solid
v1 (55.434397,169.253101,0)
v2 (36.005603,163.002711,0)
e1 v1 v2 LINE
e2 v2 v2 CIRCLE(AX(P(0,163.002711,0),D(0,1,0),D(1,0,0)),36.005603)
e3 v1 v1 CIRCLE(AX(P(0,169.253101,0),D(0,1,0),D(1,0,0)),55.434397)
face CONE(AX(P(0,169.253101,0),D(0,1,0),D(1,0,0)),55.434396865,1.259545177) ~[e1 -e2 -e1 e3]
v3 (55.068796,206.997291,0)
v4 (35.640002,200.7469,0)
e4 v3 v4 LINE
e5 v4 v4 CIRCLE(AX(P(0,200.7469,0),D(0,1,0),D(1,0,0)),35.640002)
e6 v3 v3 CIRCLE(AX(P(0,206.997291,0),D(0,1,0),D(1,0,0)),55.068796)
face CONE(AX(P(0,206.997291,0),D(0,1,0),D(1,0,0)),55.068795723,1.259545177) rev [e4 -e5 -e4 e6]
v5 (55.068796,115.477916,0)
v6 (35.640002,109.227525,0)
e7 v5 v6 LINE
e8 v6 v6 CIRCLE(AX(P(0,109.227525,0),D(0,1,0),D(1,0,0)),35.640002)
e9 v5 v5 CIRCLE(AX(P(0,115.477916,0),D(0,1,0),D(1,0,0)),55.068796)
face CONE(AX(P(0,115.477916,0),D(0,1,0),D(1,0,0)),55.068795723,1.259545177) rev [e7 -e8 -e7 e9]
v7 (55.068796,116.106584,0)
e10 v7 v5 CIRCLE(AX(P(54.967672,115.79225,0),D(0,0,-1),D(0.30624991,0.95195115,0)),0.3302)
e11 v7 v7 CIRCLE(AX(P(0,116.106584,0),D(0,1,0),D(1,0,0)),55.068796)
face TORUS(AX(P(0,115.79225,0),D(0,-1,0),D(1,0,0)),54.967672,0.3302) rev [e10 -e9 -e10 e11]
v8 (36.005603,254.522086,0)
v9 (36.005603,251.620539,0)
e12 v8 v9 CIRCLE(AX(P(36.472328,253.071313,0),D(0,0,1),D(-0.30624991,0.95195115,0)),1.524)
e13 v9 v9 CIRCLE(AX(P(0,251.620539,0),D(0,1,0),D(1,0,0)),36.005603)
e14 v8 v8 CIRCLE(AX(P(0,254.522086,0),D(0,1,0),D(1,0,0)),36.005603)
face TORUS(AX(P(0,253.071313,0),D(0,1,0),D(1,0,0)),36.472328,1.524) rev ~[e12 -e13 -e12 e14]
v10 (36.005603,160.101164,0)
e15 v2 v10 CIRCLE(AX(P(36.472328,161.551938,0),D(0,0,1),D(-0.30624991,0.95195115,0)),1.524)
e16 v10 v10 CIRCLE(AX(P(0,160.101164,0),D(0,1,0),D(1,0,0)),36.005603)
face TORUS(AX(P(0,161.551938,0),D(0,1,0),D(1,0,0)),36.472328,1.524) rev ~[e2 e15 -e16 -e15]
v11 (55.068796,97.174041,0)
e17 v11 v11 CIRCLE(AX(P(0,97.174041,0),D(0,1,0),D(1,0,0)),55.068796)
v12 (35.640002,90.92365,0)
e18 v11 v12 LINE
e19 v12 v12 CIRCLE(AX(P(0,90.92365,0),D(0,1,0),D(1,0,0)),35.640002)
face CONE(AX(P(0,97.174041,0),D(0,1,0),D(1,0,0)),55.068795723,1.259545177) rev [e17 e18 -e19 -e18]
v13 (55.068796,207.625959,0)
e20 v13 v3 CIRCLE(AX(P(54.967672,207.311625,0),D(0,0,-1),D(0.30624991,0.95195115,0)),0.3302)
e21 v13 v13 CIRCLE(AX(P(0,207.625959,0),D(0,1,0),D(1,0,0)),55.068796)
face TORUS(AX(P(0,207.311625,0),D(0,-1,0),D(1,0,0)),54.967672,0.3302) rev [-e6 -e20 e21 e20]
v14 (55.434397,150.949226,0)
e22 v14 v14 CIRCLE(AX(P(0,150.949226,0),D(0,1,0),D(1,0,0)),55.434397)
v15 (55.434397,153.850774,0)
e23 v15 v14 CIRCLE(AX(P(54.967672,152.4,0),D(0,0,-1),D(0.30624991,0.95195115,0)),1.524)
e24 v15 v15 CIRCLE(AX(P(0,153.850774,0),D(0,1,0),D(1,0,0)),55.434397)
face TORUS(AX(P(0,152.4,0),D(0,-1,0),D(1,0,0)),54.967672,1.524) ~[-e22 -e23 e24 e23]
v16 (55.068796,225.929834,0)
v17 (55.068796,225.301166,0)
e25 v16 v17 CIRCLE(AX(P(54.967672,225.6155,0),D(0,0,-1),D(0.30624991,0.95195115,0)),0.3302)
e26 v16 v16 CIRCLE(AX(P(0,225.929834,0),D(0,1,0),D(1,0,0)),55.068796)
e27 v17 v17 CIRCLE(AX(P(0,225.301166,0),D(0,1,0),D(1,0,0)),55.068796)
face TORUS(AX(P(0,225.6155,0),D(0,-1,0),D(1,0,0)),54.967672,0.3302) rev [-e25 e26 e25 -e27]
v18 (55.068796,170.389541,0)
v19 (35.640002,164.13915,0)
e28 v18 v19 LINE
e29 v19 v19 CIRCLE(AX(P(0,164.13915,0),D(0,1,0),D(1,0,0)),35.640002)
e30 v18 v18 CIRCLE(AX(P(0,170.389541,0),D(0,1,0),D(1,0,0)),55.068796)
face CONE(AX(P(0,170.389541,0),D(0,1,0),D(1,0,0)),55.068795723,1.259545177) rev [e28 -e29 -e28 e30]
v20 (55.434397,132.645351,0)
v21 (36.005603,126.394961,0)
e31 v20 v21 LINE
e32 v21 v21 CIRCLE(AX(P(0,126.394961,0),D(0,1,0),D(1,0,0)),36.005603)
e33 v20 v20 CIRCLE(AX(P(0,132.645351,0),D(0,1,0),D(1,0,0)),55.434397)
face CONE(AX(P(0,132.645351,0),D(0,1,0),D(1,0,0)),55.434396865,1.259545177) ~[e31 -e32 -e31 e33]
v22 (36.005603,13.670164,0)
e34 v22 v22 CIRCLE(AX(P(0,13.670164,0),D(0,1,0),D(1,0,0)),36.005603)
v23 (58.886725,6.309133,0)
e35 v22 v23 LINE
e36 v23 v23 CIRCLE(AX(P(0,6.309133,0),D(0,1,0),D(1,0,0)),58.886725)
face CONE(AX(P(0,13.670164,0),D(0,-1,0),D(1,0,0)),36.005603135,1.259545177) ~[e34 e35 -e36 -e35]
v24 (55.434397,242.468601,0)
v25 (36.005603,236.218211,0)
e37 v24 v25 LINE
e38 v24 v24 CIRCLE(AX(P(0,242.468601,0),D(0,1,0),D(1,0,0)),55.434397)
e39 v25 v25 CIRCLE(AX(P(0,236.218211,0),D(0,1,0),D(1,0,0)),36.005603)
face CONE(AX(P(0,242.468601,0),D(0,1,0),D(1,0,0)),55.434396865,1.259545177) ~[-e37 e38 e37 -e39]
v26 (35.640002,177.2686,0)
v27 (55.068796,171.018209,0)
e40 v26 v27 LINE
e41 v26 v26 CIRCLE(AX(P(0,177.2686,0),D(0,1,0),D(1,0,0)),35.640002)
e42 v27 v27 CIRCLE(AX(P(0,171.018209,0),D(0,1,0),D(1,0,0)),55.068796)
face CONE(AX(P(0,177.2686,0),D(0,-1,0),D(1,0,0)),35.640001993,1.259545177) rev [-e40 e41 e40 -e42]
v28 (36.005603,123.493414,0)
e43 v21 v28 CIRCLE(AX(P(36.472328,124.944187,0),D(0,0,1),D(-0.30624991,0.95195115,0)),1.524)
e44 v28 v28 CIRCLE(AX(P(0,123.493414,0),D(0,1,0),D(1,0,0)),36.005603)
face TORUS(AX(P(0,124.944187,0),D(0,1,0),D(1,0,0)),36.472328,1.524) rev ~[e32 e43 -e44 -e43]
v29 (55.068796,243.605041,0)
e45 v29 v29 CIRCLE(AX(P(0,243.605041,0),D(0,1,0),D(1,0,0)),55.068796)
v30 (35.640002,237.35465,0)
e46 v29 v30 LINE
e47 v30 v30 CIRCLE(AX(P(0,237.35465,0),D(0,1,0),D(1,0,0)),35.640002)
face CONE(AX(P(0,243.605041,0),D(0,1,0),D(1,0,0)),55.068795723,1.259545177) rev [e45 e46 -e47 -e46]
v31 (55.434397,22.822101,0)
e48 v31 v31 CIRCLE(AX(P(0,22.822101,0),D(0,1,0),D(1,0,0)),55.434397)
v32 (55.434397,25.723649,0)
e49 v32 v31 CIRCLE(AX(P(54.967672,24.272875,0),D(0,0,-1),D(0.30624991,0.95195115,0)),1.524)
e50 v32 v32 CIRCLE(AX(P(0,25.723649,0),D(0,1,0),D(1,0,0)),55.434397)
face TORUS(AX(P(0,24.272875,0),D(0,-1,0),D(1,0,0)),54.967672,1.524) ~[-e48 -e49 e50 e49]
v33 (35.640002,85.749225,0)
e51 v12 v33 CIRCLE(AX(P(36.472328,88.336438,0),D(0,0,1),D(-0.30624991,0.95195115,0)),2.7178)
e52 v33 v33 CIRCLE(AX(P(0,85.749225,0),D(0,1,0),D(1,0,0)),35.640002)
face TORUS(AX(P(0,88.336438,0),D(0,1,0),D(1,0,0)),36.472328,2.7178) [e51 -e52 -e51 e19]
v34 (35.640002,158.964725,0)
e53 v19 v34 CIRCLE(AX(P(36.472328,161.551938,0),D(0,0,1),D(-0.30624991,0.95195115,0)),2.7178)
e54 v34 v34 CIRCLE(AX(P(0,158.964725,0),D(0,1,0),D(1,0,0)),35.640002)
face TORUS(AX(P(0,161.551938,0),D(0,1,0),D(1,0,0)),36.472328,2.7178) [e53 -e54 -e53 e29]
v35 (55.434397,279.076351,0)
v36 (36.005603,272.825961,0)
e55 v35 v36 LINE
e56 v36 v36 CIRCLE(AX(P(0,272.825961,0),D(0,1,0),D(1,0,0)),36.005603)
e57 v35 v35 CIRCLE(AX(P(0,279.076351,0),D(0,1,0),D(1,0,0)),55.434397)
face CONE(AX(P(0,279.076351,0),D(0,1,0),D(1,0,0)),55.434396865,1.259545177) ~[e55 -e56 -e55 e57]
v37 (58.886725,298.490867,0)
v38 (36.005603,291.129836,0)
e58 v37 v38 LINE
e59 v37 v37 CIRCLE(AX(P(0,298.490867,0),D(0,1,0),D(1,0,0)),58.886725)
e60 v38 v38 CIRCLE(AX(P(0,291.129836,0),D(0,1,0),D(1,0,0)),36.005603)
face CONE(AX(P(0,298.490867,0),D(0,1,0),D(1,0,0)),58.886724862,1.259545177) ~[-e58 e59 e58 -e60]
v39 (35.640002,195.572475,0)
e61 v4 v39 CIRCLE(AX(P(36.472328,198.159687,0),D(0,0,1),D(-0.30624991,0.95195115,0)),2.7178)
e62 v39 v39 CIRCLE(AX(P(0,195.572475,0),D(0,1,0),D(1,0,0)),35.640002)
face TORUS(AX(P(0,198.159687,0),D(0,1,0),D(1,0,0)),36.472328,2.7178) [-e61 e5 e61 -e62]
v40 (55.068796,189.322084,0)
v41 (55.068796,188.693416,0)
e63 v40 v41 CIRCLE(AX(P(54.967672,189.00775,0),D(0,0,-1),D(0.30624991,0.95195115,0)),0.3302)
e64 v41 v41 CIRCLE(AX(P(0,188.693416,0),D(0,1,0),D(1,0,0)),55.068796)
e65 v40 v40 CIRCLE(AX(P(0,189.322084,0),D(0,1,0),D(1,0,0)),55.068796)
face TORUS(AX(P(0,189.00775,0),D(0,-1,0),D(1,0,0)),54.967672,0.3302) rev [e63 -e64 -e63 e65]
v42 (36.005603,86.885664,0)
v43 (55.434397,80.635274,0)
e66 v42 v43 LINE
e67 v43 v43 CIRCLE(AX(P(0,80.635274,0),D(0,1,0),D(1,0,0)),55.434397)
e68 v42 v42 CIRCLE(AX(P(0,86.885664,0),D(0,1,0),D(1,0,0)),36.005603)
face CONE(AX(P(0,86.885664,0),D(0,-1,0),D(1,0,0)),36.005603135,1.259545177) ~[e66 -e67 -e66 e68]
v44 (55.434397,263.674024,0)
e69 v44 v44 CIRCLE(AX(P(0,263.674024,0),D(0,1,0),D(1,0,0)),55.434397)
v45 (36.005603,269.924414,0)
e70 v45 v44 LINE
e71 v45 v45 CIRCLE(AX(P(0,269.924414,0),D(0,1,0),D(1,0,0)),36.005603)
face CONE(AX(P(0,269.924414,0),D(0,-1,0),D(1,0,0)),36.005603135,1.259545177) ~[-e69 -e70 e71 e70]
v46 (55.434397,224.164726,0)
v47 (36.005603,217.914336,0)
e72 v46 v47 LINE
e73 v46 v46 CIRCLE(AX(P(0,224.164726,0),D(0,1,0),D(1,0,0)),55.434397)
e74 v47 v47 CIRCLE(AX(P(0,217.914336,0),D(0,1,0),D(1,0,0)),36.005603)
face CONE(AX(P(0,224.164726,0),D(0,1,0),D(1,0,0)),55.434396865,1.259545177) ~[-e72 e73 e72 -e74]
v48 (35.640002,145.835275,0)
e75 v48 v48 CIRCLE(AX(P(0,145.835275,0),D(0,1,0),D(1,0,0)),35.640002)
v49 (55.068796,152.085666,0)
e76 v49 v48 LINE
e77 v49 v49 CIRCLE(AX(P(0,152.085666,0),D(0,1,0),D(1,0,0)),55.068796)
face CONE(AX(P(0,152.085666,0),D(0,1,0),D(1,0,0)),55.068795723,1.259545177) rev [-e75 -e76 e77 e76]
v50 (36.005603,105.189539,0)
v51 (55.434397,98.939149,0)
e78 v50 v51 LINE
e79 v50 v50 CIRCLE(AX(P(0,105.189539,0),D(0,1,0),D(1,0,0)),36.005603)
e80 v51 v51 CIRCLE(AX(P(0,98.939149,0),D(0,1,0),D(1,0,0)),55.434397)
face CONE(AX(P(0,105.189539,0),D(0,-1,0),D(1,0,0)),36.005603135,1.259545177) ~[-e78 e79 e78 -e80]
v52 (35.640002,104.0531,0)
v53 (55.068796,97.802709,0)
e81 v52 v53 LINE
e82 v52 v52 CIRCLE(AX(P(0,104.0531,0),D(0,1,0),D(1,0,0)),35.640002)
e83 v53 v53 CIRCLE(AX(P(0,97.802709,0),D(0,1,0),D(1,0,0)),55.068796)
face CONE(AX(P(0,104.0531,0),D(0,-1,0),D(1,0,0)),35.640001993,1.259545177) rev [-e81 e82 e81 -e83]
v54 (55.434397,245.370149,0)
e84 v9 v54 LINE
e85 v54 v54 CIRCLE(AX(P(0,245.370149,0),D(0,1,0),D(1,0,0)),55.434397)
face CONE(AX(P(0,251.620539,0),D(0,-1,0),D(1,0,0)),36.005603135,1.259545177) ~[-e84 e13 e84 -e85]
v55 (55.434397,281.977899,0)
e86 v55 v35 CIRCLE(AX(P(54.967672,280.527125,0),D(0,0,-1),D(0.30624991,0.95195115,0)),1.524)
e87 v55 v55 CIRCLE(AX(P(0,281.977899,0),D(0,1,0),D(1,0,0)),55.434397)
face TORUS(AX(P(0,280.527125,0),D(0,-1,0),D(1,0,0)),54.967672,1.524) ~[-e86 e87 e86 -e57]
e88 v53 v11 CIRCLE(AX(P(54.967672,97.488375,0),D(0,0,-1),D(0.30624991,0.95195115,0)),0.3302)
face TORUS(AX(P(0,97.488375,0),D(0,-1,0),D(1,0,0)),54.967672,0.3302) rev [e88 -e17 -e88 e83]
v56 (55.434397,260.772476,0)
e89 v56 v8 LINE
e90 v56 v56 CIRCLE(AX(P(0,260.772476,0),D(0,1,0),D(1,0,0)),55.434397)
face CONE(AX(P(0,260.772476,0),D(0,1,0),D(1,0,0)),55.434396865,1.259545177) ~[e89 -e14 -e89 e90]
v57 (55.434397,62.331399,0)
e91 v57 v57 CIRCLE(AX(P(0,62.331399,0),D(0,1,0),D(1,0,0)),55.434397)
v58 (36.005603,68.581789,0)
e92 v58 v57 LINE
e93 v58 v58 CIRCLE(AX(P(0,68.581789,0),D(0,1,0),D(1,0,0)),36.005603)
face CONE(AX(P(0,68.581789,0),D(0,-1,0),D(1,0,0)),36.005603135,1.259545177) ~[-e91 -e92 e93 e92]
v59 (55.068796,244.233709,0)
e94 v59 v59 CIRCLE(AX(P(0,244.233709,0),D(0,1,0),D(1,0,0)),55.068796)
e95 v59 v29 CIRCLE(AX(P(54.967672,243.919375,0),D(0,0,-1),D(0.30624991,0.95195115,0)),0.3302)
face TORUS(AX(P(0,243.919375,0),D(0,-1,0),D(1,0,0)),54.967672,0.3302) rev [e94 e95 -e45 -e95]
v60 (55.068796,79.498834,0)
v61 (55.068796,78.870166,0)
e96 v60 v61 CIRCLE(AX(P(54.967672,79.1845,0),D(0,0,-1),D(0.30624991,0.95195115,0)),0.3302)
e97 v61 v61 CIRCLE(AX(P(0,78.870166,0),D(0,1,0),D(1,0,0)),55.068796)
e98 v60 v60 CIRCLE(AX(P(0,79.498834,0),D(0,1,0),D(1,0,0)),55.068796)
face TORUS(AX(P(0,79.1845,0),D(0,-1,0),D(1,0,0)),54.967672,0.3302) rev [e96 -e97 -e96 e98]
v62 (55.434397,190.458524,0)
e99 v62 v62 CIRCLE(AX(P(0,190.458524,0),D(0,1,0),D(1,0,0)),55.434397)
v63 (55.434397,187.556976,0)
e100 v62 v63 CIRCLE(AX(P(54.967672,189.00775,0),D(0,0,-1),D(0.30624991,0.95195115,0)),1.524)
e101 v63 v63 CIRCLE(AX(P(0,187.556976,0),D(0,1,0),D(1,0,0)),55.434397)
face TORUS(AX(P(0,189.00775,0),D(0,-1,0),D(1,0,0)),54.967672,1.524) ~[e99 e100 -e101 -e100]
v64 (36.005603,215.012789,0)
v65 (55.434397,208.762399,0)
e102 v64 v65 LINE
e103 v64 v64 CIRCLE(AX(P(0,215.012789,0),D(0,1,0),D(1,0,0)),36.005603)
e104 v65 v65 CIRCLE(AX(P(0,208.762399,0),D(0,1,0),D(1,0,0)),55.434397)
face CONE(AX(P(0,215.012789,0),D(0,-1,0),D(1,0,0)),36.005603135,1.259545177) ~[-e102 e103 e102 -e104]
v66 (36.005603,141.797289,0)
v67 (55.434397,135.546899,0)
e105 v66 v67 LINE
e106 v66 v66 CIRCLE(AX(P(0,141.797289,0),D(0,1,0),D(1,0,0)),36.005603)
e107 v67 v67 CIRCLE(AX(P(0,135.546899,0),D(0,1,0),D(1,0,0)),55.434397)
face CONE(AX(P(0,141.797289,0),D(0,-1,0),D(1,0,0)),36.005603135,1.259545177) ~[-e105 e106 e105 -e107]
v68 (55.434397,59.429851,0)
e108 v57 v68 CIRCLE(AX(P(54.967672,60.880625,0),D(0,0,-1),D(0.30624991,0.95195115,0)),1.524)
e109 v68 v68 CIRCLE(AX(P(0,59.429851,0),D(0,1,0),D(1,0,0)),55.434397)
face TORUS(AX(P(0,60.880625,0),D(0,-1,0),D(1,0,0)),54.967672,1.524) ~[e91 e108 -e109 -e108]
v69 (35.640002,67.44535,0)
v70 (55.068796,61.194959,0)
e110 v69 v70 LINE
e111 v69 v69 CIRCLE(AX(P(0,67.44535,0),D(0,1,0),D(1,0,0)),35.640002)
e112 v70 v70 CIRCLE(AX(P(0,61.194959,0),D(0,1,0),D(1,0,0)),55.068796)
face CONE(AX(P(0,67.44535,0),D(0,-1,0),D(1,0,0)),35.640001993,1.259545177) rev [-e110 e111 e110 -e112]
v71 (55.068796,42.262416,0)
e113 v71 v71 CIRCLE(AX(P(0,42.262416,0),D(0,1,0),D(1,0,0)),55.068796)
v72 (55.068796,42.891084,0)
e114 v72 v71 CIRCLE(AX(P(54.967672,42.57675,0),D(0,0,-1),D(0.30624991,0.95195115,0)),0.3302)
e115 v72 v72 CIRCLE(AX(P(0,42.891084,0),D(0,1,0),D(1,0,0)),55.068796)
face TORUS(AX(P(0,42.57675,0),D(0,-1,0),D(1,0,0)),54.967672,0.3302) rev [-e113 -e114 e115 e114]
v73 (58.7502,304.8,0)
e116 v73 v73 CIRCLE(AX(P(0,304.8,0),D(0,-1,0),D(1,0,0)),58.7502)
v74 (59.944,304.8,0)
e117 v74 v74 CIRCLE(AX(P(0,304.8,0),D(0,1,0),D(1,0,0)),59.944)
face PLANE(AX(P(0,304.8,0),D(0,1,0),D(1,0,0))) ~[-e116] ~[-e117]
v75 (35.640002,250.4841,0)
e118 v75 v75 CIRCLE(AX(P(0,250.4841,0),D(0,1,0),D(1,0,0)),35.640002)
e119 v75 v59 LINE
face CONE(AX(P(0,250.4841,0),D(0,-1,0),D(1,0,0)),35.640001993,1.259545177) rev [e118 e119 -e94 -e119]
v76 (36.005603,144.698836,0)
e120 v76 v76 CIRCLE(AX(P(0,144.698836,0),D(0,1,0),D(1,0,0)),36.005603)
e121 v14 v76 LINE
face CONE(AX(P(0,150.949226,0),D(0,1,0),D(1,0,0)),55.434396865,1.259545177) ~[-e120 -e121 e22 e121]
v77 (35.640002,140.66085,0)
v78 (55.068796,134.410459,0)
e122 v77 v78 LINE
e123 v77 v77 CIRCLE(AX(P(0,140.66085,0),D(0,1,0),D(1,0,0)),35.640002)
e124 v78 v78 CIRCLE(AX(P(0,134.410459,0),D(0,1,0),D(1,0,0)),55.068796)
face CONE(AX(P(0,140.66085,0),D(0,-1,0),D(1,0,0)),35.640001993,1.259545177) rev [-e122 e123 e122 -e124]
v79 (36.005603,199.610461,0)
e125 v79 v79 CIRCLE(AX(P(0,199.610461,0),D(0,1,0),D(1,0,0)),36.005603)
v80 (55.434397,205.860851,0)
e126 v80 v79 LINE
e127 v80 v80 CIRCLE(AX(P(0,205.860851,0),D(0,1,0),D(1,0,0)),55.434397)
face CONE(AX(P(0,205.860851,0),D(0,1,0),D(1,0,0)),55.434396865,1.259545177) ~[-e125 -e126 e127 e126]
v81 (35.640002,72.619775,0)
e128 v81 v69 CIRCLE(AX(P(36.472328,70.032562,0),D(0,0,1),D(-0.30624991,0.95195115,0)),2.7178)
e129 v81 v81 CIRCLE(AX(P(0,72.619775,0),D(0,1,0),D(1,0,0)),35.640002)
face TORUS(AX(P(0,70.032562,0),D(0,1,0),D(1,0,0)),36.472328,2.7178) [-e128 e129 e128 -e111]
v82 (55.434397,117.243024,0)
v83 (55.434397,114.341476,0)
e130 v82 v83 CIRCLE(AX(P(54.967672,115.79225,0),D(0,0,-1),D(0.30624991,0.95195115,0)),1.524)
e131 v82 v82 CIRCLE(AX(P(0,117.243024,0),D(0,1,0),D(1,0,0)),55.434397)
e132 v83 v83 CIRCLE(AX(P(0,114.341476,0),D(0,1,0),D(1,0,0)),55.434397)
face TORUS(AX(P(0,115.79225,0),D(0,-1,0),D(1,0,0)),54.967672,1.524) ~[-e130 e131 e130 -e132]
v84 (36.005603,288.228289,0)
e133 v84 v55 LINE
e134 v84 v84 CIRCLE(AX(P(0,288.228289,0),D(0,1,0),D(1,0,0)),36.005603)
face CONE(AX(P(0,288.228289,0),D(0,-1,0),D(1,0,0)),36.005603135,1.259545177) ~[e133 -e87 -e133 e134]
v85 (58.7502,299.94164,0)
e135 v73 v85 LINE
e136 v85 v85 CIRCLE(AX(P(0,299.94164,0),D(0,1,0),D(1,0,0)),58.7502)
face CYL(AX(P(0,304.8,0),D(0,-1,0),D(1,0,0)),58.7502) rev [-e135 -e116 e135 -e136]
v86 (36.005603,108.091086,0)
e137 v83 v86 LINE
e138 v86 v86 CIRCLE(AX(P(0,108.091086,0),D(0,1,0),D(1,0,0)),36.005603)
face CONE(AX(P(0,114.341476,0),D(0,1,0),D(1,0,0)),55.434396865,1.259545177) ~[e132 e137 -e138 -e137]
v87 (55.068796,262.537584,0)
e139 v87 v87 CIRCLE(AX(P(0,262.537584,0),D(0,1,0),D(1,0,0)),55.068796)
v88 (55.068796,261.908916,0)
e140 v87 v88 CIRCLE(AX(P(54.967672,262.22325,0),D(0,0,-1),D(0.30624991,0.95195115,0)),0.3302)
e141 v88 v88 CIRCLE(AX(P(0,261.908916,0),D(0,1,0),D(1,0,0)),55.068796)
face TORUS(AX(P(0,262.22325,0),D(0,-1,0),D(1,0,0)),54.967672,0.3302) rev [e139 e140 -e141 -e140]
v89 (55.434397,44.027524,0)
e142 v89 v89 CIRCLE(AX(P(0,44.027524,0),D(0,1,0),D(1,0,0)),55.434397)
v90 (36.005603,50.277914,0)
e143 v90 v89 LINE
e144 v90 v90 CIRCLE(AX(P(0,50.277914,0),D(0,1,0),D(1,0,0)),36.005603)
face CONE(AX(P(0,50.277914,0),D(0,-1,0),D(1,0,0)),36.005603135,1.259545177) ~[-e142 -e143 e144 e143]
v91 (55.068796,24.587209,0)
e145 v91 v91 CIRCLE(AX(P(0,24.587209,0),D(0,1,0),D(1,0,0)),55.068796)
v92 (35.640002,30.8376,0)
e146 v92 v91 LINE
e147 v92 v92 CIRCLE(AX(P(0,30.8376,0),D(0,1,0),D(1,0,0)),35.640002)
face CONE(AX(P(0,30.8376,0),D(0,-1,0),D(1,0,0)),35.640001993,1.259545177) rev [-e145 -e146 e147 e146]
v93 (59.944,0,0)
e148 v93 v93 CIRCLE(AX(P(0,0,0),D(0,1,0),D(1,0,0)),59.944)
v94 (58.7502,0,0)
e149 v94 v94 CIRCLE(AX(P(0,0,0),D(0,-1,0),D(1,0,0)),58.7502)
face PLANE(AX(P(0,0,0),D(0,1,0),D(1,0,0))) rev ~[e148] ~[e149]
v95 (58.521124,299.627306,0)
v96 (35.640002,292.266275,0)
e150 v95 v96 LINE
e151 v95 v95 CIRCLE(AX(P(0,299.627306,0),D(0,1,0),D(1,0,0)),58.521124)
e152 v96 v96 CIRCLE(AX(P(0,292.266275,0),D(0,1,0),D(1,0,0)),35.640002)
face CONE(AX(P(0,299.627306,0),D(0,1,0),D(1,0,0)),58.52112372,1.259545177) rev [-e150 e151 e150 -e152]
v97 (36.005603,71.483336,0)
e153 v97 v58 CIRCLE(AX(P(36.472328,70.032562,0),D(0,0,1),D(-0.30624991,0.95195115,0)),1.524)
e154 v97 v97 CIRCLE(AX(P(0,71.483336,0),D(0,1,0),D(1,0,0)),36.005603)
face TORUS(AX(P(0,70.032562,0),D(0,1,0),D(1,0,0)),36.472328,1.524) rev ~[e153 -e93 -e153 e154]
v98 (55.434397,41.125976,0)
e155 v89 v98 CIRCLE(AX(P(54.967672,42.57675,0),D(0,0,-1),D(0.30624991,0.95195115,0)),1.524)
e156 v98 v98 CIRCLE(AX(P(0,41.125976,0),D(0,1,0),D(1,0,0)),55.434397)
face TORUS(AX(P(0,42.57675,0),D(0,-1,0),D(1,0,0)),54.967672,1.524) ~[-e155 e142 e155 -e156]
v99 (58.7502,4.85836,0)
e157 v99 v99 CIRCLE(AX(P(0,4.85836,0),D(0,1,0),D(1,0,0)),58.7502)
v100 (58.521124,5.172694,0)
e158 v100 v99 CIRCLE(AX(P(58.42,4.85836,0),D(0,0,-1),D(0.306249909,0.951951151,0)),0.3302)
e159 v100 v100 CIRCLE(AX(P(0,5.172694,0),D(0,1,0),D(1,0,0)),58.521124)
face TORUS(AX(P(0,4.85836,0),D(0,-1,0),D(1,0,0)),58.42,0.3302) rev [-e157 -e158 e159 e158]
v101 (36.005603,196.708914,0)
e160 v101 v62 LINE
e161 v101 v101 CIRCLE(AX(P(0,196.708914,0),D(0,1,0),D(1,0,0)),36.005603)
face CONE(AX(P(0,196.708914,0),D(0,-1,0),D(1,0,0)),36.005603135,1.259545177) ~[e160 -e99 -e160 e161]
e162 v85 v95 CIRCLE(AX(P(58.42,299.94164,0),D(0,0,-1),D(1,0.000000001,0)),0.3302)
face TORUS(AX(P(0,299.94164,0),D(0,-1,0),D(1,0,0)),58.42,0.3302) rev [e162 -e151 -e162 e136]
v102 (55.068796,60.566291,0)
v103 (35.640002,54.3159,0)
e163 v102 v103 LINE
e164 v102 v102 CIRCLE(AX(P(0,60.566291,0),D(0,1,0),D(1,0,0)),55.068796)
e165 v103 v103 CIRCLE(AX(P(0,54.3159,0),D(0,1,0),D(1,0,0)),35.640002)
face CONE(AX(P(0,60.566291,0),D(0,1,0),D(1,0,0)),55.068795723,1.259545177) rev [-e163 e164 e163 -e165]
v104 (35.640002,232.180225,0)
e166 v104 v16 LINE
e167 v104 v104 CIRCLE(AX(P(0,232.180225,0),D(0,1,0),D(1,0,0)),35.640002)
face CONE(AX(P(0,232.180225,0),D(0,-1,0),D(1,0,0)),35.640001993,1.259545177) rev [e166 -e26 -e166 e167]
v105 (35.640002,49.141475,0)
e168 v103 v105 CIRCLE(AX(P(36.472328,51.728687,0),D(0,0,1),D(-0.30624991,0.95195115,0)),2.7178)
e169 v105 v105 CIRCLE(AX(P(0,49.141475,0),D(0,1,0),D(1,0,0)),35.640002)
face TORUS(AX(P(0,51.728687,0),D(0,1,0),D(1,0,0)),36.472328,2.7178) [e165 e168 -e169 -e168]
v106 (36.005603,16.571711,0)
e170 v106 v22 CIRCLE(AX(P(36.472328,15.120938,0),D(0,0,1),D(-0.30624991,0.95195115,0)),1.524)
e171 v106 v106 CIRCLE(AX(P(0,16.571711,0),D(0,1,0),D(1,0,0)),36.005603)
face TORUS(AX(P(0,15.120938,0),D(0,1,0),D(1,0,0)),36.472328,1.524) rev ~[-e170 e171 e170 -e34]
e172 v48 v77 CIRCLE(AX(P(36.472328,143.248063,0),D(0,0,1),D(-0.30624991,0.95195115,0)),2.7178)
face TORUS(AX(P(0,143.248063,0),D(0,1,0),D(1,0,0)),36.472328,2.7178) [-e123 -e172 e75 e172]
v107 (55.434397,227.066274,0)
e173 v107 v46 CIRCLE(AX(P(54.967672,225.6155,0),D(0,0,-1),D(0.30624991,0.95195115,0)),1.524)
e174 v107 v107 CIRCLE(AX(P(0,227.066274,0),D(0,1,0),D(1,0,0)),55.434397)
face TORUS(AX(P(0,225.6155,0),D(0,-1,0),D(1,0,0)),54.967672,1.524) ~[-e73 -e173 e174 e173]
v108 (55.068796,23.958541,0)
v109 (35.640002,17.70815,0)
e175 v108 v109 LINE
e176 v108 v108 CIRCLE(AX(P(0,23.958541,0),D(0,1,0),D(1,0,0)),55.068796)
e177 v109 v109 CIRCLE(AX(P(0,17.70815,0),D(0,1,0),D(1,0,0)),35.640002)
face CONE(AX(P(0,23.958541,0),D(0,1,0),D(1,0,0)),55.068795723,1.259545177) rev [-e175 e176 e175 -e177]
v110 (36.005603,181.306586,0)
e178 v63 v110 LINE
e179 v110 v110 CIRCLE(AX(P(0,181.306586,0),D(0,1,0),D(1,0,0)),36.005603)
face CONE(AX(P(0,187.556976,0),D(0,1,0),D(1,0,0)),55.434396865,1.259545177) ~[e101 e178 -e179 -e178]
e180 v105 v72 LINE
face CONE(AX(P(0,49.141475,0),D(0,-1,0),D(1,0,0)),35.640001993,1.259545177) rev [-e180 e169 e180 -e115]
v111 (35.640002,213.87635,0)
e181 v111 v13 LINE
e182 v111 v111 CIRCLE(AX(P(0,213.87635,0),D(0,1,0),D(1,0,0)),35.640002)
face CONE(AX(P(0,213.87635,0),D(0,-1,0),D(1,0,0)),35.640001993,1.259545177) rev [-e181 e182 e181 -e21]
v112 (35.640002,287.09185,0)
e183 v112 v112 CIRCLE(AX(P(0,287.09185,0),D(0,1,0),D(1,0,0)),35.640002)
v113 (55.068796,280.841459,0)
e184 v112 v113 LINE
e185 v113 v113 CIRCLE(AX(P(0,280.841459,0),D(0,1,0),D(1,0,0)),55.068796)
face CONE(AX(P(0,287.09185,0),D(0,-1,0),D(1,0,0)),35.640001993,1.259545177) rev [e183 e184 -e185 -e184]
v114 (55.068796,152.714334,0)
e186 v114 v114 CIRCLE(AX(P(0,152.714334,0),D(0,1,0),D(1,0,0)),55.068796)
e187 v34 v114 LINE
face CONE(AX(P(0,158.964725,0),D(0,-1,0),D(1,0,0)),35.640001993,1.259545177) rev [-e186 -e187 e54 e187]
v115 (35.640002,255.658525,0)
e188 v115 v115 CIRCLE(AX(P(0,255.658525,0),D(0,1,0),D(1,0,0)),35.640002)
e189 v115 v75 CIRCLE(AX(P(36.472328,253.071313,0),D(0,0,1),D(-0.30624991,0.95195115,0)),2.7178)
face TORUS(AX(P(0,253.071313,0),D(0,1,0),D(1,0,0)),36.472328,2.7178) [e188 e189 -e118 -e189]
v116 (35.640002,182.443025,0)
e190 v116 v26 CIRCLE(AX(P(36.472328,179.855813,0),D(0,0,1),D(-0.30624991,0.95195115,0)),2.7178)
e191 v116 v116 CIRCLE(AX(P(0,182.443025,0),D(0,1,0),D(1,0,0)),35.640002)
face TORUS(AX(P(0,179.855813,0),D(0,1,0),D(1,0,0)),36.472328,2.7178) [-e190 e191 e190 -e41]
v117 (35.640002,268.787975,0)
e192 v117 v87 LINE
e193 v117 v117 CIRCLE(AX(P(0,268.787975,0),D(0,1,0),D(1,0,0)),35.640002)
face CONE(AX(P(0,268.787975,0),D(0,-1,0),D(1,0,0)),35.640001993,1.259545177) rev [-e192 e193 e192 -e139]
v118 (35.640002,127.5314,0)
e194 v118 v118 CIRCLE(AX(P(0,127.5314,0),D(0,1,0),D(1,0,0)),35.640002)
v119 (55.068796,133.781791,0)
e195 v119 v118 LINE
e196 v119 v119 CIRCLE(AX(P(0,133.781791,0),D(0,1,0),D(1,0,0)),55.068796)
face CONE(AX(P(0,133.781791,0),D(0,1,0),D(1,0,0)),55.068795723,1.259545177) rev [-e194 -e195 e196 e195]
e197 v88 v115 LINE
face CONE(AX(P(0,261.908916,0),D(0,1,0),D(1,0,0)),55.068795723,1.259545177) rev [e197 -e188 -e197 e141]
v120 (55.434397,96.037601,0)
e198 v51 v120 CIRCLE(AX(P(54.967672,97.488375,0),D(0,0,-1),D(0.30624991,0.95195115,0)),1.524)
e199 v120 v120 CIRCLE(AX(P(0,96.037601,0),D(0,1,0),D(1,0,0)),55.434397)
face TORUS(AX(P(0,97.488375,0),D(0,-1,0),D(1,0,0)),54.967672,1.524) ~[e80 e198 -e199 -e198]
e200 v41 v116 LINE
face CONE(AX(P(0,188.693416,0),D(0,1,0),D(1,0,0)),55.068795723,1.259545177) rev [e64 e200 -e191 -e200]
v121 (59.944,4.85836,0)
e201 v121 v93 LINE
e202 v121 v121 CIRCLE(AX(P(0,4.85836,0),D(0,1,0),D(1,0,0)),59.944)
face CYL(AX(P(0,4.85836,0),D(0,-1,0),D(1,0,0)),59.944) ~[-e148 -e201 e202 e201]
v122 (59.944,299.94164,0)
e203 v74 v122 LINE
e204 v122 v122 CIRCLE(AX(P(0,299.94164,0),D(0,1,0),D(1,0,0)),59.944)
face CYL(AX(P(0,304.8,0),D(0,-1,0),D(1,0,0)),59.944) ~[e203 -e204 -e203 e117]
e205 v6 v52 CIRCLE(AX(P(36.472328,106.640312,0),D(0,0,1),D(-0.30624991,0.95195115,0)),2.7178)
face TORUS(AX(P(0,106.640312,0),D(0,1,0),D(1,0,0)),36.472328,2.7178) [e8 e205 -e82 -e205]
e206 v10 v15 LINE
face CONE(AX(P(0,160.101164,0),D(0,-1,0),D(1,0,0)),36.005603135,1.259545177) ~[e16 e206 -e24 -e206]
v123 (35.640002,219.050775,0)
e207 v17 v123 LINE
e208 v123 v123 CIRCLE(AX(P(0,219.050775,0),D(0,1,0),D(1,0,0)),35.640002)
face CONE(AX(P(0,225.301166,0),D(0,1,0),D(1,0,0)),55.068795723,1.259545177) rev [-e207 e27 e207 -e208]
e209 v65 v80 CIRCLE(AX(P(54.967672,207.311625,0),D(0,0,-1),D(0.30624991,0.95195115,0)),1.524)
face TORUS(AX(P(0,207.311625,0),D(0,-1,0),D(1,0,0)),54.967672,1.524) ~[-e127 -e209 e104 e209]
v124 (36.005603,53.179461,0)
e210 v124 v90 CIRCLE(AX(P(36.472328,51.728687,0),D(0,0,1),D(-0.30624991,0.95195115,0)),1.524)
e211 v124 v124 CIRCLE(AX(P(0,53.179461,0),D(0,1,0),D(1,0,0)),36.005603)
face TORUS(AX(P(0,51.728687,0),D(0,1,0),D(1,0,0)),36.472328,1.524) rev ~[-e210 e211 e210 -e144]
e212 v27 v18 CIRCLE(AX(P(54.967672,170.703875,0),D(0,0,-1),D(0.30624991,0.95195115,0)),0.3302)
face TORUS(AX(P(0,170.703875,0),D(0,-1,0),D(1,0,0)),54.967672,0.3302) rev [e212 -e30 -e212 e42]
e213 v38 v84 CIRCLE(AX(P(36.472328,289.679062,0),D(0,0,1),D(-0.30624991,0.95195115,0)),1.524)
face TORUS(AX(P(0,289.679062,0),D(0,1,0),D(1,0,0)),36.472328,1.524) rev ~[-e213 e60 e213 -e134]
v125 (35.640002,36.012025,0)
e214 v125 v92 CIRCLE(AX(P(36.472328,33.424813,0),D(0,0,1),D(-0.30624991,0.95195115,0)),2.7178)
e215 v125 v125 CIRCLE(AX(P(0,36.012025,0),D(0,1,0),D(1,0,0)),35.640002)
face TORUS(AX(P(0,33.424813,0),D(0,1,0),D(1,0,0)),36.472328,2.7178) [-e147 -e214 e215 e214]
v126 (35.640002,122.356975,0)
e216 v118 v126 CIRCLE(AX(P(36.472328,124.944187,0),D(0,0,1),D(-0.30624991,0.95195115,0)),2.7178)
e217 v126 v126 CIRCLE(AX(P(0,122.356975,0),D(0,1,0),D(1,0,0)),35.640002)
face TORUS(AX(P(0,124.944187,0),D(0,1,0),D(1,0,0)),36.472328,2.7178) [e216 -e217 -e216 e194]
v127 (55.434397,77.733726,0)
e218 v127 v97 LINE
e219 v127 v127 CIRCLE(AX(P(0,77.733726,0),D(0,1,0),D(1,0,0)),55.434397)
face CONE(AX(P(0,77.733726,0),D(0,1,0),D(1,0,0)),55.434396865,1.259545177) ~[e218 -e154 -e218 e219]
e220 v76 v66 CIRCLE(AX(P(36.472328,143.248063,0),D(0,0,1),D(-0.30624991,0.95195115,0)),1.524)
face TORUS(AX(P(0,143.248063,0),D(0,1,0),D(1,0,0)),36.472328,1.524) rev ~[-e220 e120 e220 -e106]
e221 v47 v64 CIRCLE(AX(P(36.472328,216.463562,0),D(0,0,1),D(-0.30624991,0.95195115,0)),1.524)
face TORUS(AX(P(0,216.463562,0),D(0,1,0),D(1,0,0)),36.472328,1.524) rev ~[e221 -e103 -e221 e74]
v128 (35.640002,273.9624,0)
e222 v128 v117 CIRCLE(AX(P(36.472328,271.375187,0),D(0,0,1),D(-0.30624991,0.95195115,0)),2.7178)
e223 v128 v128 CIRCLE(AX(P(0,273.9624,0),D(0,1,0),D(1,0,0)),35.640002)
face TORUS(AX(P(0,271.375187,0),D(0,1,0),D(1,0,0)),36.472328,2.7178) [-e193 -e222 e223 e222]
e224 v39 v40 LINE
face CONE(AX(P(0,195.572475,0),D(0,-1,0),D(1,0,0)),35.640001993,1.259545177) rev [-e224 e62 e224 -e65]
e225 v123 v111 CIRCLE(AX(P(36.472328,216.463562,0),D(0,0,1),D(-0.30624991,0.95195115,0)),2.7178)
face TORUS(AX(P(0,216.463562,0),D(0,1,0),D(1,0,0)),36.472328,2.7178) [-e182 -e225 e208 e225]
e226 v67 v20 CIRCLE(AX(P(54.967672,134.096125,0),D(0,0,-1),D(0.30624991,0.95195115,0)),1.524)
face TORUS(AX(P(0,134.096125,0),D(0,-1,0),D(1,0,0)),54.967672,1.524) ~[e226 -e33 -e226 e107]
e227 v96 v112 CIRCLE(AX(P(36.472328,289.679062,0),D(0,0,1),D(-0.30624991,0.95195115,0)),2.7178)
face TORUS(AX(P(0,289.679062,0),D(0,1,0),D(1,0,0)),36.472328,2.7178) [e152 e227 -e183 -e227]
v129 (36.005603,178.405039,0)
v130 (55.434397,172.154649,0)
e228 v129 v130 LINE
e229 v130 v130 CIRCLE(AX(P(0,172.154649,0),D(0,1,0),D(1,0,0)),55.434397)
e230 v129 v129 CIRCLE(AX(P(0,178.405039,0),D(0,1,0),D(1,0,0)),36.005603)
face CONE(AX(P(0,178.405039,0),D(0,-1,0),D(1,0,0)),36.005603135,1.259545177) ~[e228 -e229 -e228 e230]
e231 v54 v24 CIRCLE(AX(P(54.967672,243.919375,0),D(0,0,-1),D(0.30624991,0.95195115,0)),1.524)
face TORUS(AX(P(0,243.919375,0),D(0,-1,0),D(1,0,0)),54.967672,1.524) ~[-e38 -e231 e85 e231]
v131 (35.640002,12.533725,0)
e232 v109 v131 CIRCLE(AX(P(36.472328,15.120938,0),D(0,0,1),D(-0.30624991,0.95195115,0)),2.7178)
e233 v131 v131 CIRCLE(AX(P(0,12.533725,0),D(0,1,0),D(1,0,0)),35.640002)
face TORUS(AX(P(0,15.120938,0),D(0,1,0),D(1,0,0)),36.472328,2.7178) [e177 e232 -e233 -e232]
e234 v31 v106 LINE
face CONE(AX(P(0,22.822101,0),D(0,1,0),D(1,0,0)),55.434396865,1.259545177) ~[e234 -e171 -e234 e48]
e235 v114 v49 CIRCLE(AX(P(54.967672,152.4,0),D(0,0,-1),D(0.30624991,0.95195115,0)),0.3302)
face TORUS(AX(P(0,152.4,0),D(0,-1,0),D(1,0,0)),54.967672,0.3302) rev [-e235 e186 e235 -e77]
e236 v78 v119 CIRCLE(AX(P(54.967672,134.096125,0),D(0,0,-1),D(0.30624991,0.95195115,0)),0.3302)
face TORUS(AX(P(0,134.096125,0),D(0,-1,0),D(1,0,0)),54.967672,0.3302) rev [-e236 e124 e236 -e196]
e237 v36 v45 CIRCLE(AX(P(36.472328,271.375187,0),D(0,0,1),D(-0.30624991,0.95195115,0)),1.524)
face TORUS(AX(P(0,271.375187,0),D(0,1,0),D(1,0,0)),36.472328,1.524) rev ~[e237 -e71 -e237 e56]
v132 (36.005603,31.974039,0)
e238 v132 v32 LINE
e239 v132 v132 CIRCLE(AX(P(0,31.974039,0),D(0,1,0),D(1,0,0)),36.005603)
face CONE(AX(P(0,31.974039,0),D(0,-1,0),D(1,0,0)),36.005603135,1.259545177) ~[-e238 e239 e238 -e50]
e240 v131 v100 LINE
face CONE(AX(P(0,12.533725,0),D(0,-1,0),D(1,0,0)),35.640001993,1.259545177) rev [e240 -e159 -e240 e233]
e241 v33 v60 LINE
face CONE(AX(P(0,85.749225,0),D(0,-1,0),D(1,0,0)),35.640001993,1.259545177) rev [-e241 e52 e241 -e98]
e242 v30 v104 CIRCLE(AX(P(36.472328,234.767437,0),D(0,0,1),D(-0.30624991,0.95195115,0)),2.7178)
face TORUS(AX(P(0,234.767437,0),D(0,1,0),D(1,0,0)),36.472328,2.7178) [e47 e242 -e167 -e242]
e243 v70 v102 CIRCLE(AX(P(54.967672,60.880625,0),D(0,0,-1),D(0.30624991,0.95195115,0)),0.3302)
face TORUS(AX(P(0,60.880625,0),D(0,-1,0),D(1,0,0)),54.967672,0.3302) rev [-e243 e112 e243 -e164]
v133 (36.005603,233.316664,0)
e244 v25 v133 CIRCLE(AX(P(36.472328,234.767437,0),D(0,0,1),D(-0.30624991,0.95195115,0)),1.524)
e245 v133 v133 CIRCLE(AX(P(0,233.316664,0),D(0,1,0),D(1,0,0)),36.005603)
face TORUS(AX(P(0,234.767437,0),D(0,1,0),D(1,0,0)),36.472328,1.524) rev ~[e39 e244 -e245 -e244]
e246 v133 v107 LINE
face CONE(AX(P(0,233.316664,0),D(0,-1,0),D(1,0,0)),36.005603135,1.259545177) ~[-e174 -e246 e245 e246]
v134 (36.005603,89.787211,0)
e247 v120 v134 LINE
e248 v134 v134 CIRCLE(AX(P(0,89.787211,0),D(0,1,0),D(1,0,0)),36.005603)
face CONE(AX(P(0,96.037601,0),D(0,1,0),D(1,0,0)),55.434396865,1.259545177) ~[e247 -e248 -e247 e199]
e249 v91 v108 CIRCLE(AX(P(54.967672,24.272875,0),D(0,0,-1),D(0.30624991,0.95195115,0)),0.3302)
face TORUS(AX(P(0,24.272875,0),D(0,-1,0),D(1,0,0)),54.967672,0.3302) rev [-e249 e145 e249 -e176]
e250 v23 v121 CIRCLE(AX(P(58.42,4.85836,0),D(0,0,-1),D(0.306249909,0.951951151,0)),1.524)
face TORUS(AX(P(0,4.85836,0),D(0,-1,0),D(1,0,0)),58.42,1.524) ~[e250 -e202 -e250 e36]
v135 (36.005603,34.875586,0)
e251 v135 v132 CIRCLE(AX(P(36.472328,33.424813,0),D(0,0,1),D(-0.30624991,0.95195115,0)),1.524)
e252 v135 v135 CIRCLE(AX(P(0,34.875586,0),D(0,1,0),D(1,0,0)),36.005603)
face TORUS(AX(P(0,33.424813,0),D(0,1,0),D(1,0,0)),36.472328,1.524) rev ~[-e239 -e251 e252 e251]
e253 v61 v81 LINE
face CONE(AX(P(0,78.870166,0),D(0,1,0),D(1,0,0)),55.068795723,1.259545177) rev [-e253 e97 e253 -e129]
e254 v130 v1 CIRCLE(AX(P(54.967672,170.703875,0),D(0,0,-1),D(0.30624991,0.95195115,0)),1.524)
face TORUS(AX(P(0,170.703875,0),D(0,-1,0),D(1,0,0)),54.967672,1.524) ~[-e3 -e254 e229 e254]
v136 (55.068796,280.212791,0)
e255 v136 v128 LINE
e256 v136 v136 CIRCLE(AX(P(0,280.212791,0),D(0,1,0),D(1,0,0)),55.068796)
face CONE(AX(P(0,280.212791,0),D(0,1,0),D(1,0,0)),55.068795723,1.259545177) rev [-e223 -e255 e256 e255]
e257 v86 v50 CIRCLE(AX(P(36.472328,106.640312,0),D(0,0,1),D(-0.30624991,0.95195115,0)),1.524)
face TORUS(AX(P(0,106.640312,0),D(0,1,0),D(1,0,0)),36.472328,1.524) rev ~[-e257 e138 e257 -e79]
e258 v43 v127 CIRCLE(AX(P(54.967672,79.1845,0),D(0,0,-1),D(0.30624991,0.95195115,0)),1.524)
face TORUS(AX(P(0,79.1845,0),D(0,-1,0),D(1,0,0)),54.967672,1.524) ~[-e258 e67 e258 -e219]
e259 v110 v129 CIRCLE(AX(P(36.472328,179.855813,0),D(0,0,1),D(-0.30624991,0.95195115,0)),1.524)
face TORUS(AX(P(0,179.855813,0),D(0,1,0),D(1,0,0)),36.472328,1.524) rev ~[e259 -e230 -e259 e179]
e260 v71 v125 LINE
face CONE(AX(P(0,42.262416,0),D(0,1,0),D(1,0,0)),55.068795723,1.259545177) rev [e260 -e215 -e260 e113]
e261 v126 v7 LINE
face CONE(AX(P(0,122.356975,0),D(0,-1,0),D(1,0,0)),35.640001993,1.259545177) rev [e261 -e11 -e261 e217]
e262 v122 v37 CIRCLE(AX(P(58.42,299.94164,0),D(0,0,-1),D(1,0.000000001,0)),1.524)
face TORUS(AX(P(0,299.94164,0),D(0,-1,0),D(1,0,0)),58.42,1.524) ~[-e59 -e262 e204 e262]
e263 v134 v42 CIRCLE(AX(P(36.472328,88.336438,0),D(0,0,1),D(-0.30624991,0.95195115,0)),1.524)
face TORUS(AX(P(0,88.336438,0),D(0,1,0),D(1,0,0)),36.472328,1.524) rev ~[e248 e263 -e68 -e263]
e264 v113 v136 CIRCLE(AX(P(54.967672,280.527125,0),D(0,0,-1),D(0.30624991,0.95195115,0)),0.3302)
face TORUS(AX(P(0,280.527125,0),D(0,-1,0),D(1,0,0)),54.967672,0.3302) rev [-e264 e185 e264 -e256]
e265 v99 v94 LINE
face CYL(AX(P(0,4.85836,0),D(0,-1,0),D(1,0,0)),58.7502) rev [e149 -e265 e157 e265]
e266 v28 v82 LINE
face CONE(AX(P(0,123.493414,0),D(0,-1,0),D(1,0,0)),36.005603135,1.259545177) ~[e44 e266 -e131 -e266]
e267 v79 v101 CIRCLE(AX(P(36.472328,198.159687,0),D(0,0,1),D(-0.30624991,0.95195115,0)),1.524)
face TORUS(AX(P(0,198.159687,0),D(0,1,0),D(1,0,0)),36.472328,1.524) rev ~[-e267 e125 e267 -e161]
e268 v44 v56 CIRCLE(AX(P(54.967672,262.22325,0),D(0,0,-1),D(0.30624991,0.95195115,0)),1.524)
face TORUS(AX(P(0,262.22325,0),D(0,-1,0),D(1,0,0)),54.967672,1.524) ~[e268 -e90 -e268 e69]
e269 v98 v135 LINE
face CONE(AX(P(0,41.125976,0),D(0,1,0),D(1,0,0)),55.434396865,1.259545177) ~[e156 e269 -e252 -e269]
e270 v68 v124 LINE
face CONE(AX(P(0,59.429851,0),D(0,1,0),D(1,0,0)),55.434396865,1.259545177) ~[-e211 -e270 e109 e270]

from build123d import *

# Parameters (mm, degrees)
SHELL1_T = -1.1938


with BuildPart() as part:
    # Sketch1 → Revolve2 (revolve)
    with BuildSketch(Plane.XY):
        with BuildLine():
            Line((0, 0), (0, 304.8))
            Line((0, 304.8), (59.944, 304.8))
            Line((59.944, 304.8), (59.944, 299.941640118))
            ThreePointArc((59.944, 299.941640118), (59.651638074, 299.044063572), (58.886724862, 298.490866564))
            Line((58.886724862, 298.490866564), (36.005603135, 291.129836053))
            ThreePointArc((36.005603135, 291.129836053), (34.948327998, 289.6790625), (36.005603135, 288.228288947))
            Line((36.005603135, 288.228288947), (55.434396865, 281.977898553))
            ThreePointArc((55.434396865, 281.977898553), (56.491672002, 280.527125), (55.434396865, 279.076351447))
            Line((55.434396865, 279.076351447), (36.005603135, 272.825961053))
            ThreePointArc((36.005603135, 272.825961053), (34.948327998, 271.3751875), (36.005603135, 269.924413947))
            Line((36.005603135, 269.924413947), (55.434396865, 263.674023553))
            ThreePointArc((55.434396865, 263.674023553), (56.491672002, 262.22325), (55.434396865, 260.772476447))
            Line((55.434396865, 260.772476447), (36.005603135, 254.522086053))
            ThreePointArc((36.005603135, 254.522086053), (34.948327998, 253.0713125), (36.005603135, 251.620538947))
            Line((36.005603135, 251.620538947), (55.434396865, 245.370148553))
            ThreePointArc((55.434396865, 245.370148553), (56.491672002, 243.919375), (55.434396865, 242.468601447))
            Line((55.434396865, 242.468601447), (36.005603135, 236.218211053))
            ThreePointArc((36.005603135, 236.218211053), (34.948327998, 234.7674375), (36.005603135, 233.316663947))
            Line((36.005603135, 233.316663947), (55.434396865, 227.066273553))
            ThreePointArc((55.434396865, 227.066273553), (56.491672002, 225.6155), (55.434396865, 224.164726447))
            Line((55.434396865, 224.164726447), (36.005603135, 217.914336053))
            ThreePointArc((36.005603135, 217.914336053), (34.948327998, 216.4635625), (36.005603135, 215.012788947))
            Line((36.005603135, 215.012788947), (55.434396865, 208.762398553))
            ThreePointArc((55.434396865, 208.762398553), (56.491672002, 207.311625), (55.434396865, 205.860851447))
            Line((55.434396865, 205.860851447), (36.005603135, 199.610461053))
            ThreePointArc((36.005603135, 199.610461053), (34.948327998, 198.1596875), (36.005603135, 196.708913947))
            Line((36.005603135, 196.708913947), (55.434396865, 190.458523553))
            ThreePointArc((55.434396865, 190.458523553), (56.491672002, 189.00775), (55.434396865, 187.556976447))
            Line((55.434396865, 187.556976447), (36.005603135, 181.306586053))
            ThreePointArc((36.005603135, 181.306586053), (34.948327998, 179.8558125), (36.005603135, 178.405038947))
            Line((36.005603135, 178.405038947), (55.434396865, 172.154648553))
            ThreePointArc((55.434396865, 172.154648553), (56.491672002, 170.703875), (55.434396865, 169.253101447))
            Line((55.434396865, 169.253101447), (36.005603135, 163.002711053))
            ThreePointArc((36.005603135, 163.002711053), (34.948327998, 161.5519375), (36.005603135, 160.101163947))
            Line((36.005603135, 160.101163947), (55.434396865, 153.850773553))
            ThreePointArc((55.434396865, 153.850773553), (56.491672002, 152.4), (55.434396865, 150.949226447))
            Line((55.434396865, 150.949226447), (36.005603135, 144.698836053))
            ThreePointArc((36.005603135, 144.698836053), (34.948327998, 143.2480625), (36.005603135, 141.797288947))
            Line((36.005603135, 141.797288947), (55.434396865, 135.546898553))
            ThreePointArc((55.434396865, 135.546898553), (56.491672002, 134.096125), (55.434396865, 132.645351447))
            Line((55.434396865, 132.645351447), (36.005603135, 126.394961053))
            ThreePointArc((36.005603135, 126.394961053), (34.948327998, 124.9441875), (36.005603135, 123.493413947))
            Line((36.005603135, 123.493413947), (55.434396865, 117.243023553))
            ThreePointArc((55.434396865, 117.243023553), (56.491672002, 115.79225), (55.434396865, 114.341476447))
            Line((55.434396865, 114.341476447), (36.005603135, 108.091086053))
            ThreePointArc((36.005603135, 108.091086053), (34.948327998, 106.6403125), (36.005603135, 105.189538947))
            Line((36.005603135, 105.189538947), (55.434396865, 98.939148553))
            ThreePointArc((55.434396865, 98.939148553), (56.491672002, 97.488375), (55.434396865, 96.037601447))
            Line((55.434396865, 96.037601447), (36.005603135, 89.787211053))
            ThreePointArc((36.005603135, 89.787211053), (34.948327998, 88.3364375), (36.005603135, 86.885663947))
            Line((36.005603135, 86.885663947), (55.434396865, 80.635273553))
            ThreePointArc((55.434396865, 80.635273553), (56.491672002, 79.1845), (55.434396865, 77.733726447))
            Line((55.434396865, 77.733726447), (36.005603135, 71.483336053))
            ThreePointArc((36.005603135, 71.483336053), (34.948327998, 70.0325625), (36.005603135, 68.581788947))
            Line((36.005603135, 68.581788947), (55.434396865, 62.331398553))
            ThreePointArc((55.434396865, 62.331398553), (56.491672002, 60.880625), (55.434396865, 59.429851447))
            Line((55.434396865, 59.429851447), (36.005603135, 53.179461053))
            ThreePointArc((36.005603135, 53.179461053), (34.948327998, 51.7286875), (36.005603135, 50.277913947))
            Line((36.005603135, 50.277913947), (55.434396865, 44.027523553))
            ThreePointArc((55.434396865, 44.027523553), (56.491672002, 42.57675), (55.434396865, 41.125976447))
            Line((55.434396865, 41.125976447), (36.005603135, 34.875586053))
            ThreePointArc((36.005603135, 34.875586053), (34.948327998, 33.4248125), (36.005603135, 31.974038947))
            Line((36.005603135, 31.974038947), (55.434396865, 25.723648553))
            ThreePointArc((55.434396865, 25.723648553), (56.491672002, 24.272875), (55.434396865, 22.822101447))
            Line((55.434396865, 22.822101447), (36.005603135, 16.571711053))
            ThreePointArc((36.005603135, 16.571711053), (34.948327998, 15.1209375), (36.005603135, 13.670163947))
            Line((36.005603135, 13.670163947), (58.886724862, 6.309133436))
            ThreePointArc((58.886724862, 6.309133436), (59.651638074, 5.755936428), (59.944, 4.858359882))
            Line((59.944, 4.858359882), (59.944, 0))
            Line((59.944, 0), (0, 0))
        make_face()
    revolve(axis=Axis((0, 0, 0), (0, 1, 0)))

    # Shell1
    shell1_openings = [part.faces().sort_by_distance(p)[0] for p in [
        (0, 304.8, 0),
        (0, 0, 0),
    ]]
    offset(amount=SHELL1_T, openings=shell1_openings, kind=Kind.INTERSECTION)


solid = part.part
